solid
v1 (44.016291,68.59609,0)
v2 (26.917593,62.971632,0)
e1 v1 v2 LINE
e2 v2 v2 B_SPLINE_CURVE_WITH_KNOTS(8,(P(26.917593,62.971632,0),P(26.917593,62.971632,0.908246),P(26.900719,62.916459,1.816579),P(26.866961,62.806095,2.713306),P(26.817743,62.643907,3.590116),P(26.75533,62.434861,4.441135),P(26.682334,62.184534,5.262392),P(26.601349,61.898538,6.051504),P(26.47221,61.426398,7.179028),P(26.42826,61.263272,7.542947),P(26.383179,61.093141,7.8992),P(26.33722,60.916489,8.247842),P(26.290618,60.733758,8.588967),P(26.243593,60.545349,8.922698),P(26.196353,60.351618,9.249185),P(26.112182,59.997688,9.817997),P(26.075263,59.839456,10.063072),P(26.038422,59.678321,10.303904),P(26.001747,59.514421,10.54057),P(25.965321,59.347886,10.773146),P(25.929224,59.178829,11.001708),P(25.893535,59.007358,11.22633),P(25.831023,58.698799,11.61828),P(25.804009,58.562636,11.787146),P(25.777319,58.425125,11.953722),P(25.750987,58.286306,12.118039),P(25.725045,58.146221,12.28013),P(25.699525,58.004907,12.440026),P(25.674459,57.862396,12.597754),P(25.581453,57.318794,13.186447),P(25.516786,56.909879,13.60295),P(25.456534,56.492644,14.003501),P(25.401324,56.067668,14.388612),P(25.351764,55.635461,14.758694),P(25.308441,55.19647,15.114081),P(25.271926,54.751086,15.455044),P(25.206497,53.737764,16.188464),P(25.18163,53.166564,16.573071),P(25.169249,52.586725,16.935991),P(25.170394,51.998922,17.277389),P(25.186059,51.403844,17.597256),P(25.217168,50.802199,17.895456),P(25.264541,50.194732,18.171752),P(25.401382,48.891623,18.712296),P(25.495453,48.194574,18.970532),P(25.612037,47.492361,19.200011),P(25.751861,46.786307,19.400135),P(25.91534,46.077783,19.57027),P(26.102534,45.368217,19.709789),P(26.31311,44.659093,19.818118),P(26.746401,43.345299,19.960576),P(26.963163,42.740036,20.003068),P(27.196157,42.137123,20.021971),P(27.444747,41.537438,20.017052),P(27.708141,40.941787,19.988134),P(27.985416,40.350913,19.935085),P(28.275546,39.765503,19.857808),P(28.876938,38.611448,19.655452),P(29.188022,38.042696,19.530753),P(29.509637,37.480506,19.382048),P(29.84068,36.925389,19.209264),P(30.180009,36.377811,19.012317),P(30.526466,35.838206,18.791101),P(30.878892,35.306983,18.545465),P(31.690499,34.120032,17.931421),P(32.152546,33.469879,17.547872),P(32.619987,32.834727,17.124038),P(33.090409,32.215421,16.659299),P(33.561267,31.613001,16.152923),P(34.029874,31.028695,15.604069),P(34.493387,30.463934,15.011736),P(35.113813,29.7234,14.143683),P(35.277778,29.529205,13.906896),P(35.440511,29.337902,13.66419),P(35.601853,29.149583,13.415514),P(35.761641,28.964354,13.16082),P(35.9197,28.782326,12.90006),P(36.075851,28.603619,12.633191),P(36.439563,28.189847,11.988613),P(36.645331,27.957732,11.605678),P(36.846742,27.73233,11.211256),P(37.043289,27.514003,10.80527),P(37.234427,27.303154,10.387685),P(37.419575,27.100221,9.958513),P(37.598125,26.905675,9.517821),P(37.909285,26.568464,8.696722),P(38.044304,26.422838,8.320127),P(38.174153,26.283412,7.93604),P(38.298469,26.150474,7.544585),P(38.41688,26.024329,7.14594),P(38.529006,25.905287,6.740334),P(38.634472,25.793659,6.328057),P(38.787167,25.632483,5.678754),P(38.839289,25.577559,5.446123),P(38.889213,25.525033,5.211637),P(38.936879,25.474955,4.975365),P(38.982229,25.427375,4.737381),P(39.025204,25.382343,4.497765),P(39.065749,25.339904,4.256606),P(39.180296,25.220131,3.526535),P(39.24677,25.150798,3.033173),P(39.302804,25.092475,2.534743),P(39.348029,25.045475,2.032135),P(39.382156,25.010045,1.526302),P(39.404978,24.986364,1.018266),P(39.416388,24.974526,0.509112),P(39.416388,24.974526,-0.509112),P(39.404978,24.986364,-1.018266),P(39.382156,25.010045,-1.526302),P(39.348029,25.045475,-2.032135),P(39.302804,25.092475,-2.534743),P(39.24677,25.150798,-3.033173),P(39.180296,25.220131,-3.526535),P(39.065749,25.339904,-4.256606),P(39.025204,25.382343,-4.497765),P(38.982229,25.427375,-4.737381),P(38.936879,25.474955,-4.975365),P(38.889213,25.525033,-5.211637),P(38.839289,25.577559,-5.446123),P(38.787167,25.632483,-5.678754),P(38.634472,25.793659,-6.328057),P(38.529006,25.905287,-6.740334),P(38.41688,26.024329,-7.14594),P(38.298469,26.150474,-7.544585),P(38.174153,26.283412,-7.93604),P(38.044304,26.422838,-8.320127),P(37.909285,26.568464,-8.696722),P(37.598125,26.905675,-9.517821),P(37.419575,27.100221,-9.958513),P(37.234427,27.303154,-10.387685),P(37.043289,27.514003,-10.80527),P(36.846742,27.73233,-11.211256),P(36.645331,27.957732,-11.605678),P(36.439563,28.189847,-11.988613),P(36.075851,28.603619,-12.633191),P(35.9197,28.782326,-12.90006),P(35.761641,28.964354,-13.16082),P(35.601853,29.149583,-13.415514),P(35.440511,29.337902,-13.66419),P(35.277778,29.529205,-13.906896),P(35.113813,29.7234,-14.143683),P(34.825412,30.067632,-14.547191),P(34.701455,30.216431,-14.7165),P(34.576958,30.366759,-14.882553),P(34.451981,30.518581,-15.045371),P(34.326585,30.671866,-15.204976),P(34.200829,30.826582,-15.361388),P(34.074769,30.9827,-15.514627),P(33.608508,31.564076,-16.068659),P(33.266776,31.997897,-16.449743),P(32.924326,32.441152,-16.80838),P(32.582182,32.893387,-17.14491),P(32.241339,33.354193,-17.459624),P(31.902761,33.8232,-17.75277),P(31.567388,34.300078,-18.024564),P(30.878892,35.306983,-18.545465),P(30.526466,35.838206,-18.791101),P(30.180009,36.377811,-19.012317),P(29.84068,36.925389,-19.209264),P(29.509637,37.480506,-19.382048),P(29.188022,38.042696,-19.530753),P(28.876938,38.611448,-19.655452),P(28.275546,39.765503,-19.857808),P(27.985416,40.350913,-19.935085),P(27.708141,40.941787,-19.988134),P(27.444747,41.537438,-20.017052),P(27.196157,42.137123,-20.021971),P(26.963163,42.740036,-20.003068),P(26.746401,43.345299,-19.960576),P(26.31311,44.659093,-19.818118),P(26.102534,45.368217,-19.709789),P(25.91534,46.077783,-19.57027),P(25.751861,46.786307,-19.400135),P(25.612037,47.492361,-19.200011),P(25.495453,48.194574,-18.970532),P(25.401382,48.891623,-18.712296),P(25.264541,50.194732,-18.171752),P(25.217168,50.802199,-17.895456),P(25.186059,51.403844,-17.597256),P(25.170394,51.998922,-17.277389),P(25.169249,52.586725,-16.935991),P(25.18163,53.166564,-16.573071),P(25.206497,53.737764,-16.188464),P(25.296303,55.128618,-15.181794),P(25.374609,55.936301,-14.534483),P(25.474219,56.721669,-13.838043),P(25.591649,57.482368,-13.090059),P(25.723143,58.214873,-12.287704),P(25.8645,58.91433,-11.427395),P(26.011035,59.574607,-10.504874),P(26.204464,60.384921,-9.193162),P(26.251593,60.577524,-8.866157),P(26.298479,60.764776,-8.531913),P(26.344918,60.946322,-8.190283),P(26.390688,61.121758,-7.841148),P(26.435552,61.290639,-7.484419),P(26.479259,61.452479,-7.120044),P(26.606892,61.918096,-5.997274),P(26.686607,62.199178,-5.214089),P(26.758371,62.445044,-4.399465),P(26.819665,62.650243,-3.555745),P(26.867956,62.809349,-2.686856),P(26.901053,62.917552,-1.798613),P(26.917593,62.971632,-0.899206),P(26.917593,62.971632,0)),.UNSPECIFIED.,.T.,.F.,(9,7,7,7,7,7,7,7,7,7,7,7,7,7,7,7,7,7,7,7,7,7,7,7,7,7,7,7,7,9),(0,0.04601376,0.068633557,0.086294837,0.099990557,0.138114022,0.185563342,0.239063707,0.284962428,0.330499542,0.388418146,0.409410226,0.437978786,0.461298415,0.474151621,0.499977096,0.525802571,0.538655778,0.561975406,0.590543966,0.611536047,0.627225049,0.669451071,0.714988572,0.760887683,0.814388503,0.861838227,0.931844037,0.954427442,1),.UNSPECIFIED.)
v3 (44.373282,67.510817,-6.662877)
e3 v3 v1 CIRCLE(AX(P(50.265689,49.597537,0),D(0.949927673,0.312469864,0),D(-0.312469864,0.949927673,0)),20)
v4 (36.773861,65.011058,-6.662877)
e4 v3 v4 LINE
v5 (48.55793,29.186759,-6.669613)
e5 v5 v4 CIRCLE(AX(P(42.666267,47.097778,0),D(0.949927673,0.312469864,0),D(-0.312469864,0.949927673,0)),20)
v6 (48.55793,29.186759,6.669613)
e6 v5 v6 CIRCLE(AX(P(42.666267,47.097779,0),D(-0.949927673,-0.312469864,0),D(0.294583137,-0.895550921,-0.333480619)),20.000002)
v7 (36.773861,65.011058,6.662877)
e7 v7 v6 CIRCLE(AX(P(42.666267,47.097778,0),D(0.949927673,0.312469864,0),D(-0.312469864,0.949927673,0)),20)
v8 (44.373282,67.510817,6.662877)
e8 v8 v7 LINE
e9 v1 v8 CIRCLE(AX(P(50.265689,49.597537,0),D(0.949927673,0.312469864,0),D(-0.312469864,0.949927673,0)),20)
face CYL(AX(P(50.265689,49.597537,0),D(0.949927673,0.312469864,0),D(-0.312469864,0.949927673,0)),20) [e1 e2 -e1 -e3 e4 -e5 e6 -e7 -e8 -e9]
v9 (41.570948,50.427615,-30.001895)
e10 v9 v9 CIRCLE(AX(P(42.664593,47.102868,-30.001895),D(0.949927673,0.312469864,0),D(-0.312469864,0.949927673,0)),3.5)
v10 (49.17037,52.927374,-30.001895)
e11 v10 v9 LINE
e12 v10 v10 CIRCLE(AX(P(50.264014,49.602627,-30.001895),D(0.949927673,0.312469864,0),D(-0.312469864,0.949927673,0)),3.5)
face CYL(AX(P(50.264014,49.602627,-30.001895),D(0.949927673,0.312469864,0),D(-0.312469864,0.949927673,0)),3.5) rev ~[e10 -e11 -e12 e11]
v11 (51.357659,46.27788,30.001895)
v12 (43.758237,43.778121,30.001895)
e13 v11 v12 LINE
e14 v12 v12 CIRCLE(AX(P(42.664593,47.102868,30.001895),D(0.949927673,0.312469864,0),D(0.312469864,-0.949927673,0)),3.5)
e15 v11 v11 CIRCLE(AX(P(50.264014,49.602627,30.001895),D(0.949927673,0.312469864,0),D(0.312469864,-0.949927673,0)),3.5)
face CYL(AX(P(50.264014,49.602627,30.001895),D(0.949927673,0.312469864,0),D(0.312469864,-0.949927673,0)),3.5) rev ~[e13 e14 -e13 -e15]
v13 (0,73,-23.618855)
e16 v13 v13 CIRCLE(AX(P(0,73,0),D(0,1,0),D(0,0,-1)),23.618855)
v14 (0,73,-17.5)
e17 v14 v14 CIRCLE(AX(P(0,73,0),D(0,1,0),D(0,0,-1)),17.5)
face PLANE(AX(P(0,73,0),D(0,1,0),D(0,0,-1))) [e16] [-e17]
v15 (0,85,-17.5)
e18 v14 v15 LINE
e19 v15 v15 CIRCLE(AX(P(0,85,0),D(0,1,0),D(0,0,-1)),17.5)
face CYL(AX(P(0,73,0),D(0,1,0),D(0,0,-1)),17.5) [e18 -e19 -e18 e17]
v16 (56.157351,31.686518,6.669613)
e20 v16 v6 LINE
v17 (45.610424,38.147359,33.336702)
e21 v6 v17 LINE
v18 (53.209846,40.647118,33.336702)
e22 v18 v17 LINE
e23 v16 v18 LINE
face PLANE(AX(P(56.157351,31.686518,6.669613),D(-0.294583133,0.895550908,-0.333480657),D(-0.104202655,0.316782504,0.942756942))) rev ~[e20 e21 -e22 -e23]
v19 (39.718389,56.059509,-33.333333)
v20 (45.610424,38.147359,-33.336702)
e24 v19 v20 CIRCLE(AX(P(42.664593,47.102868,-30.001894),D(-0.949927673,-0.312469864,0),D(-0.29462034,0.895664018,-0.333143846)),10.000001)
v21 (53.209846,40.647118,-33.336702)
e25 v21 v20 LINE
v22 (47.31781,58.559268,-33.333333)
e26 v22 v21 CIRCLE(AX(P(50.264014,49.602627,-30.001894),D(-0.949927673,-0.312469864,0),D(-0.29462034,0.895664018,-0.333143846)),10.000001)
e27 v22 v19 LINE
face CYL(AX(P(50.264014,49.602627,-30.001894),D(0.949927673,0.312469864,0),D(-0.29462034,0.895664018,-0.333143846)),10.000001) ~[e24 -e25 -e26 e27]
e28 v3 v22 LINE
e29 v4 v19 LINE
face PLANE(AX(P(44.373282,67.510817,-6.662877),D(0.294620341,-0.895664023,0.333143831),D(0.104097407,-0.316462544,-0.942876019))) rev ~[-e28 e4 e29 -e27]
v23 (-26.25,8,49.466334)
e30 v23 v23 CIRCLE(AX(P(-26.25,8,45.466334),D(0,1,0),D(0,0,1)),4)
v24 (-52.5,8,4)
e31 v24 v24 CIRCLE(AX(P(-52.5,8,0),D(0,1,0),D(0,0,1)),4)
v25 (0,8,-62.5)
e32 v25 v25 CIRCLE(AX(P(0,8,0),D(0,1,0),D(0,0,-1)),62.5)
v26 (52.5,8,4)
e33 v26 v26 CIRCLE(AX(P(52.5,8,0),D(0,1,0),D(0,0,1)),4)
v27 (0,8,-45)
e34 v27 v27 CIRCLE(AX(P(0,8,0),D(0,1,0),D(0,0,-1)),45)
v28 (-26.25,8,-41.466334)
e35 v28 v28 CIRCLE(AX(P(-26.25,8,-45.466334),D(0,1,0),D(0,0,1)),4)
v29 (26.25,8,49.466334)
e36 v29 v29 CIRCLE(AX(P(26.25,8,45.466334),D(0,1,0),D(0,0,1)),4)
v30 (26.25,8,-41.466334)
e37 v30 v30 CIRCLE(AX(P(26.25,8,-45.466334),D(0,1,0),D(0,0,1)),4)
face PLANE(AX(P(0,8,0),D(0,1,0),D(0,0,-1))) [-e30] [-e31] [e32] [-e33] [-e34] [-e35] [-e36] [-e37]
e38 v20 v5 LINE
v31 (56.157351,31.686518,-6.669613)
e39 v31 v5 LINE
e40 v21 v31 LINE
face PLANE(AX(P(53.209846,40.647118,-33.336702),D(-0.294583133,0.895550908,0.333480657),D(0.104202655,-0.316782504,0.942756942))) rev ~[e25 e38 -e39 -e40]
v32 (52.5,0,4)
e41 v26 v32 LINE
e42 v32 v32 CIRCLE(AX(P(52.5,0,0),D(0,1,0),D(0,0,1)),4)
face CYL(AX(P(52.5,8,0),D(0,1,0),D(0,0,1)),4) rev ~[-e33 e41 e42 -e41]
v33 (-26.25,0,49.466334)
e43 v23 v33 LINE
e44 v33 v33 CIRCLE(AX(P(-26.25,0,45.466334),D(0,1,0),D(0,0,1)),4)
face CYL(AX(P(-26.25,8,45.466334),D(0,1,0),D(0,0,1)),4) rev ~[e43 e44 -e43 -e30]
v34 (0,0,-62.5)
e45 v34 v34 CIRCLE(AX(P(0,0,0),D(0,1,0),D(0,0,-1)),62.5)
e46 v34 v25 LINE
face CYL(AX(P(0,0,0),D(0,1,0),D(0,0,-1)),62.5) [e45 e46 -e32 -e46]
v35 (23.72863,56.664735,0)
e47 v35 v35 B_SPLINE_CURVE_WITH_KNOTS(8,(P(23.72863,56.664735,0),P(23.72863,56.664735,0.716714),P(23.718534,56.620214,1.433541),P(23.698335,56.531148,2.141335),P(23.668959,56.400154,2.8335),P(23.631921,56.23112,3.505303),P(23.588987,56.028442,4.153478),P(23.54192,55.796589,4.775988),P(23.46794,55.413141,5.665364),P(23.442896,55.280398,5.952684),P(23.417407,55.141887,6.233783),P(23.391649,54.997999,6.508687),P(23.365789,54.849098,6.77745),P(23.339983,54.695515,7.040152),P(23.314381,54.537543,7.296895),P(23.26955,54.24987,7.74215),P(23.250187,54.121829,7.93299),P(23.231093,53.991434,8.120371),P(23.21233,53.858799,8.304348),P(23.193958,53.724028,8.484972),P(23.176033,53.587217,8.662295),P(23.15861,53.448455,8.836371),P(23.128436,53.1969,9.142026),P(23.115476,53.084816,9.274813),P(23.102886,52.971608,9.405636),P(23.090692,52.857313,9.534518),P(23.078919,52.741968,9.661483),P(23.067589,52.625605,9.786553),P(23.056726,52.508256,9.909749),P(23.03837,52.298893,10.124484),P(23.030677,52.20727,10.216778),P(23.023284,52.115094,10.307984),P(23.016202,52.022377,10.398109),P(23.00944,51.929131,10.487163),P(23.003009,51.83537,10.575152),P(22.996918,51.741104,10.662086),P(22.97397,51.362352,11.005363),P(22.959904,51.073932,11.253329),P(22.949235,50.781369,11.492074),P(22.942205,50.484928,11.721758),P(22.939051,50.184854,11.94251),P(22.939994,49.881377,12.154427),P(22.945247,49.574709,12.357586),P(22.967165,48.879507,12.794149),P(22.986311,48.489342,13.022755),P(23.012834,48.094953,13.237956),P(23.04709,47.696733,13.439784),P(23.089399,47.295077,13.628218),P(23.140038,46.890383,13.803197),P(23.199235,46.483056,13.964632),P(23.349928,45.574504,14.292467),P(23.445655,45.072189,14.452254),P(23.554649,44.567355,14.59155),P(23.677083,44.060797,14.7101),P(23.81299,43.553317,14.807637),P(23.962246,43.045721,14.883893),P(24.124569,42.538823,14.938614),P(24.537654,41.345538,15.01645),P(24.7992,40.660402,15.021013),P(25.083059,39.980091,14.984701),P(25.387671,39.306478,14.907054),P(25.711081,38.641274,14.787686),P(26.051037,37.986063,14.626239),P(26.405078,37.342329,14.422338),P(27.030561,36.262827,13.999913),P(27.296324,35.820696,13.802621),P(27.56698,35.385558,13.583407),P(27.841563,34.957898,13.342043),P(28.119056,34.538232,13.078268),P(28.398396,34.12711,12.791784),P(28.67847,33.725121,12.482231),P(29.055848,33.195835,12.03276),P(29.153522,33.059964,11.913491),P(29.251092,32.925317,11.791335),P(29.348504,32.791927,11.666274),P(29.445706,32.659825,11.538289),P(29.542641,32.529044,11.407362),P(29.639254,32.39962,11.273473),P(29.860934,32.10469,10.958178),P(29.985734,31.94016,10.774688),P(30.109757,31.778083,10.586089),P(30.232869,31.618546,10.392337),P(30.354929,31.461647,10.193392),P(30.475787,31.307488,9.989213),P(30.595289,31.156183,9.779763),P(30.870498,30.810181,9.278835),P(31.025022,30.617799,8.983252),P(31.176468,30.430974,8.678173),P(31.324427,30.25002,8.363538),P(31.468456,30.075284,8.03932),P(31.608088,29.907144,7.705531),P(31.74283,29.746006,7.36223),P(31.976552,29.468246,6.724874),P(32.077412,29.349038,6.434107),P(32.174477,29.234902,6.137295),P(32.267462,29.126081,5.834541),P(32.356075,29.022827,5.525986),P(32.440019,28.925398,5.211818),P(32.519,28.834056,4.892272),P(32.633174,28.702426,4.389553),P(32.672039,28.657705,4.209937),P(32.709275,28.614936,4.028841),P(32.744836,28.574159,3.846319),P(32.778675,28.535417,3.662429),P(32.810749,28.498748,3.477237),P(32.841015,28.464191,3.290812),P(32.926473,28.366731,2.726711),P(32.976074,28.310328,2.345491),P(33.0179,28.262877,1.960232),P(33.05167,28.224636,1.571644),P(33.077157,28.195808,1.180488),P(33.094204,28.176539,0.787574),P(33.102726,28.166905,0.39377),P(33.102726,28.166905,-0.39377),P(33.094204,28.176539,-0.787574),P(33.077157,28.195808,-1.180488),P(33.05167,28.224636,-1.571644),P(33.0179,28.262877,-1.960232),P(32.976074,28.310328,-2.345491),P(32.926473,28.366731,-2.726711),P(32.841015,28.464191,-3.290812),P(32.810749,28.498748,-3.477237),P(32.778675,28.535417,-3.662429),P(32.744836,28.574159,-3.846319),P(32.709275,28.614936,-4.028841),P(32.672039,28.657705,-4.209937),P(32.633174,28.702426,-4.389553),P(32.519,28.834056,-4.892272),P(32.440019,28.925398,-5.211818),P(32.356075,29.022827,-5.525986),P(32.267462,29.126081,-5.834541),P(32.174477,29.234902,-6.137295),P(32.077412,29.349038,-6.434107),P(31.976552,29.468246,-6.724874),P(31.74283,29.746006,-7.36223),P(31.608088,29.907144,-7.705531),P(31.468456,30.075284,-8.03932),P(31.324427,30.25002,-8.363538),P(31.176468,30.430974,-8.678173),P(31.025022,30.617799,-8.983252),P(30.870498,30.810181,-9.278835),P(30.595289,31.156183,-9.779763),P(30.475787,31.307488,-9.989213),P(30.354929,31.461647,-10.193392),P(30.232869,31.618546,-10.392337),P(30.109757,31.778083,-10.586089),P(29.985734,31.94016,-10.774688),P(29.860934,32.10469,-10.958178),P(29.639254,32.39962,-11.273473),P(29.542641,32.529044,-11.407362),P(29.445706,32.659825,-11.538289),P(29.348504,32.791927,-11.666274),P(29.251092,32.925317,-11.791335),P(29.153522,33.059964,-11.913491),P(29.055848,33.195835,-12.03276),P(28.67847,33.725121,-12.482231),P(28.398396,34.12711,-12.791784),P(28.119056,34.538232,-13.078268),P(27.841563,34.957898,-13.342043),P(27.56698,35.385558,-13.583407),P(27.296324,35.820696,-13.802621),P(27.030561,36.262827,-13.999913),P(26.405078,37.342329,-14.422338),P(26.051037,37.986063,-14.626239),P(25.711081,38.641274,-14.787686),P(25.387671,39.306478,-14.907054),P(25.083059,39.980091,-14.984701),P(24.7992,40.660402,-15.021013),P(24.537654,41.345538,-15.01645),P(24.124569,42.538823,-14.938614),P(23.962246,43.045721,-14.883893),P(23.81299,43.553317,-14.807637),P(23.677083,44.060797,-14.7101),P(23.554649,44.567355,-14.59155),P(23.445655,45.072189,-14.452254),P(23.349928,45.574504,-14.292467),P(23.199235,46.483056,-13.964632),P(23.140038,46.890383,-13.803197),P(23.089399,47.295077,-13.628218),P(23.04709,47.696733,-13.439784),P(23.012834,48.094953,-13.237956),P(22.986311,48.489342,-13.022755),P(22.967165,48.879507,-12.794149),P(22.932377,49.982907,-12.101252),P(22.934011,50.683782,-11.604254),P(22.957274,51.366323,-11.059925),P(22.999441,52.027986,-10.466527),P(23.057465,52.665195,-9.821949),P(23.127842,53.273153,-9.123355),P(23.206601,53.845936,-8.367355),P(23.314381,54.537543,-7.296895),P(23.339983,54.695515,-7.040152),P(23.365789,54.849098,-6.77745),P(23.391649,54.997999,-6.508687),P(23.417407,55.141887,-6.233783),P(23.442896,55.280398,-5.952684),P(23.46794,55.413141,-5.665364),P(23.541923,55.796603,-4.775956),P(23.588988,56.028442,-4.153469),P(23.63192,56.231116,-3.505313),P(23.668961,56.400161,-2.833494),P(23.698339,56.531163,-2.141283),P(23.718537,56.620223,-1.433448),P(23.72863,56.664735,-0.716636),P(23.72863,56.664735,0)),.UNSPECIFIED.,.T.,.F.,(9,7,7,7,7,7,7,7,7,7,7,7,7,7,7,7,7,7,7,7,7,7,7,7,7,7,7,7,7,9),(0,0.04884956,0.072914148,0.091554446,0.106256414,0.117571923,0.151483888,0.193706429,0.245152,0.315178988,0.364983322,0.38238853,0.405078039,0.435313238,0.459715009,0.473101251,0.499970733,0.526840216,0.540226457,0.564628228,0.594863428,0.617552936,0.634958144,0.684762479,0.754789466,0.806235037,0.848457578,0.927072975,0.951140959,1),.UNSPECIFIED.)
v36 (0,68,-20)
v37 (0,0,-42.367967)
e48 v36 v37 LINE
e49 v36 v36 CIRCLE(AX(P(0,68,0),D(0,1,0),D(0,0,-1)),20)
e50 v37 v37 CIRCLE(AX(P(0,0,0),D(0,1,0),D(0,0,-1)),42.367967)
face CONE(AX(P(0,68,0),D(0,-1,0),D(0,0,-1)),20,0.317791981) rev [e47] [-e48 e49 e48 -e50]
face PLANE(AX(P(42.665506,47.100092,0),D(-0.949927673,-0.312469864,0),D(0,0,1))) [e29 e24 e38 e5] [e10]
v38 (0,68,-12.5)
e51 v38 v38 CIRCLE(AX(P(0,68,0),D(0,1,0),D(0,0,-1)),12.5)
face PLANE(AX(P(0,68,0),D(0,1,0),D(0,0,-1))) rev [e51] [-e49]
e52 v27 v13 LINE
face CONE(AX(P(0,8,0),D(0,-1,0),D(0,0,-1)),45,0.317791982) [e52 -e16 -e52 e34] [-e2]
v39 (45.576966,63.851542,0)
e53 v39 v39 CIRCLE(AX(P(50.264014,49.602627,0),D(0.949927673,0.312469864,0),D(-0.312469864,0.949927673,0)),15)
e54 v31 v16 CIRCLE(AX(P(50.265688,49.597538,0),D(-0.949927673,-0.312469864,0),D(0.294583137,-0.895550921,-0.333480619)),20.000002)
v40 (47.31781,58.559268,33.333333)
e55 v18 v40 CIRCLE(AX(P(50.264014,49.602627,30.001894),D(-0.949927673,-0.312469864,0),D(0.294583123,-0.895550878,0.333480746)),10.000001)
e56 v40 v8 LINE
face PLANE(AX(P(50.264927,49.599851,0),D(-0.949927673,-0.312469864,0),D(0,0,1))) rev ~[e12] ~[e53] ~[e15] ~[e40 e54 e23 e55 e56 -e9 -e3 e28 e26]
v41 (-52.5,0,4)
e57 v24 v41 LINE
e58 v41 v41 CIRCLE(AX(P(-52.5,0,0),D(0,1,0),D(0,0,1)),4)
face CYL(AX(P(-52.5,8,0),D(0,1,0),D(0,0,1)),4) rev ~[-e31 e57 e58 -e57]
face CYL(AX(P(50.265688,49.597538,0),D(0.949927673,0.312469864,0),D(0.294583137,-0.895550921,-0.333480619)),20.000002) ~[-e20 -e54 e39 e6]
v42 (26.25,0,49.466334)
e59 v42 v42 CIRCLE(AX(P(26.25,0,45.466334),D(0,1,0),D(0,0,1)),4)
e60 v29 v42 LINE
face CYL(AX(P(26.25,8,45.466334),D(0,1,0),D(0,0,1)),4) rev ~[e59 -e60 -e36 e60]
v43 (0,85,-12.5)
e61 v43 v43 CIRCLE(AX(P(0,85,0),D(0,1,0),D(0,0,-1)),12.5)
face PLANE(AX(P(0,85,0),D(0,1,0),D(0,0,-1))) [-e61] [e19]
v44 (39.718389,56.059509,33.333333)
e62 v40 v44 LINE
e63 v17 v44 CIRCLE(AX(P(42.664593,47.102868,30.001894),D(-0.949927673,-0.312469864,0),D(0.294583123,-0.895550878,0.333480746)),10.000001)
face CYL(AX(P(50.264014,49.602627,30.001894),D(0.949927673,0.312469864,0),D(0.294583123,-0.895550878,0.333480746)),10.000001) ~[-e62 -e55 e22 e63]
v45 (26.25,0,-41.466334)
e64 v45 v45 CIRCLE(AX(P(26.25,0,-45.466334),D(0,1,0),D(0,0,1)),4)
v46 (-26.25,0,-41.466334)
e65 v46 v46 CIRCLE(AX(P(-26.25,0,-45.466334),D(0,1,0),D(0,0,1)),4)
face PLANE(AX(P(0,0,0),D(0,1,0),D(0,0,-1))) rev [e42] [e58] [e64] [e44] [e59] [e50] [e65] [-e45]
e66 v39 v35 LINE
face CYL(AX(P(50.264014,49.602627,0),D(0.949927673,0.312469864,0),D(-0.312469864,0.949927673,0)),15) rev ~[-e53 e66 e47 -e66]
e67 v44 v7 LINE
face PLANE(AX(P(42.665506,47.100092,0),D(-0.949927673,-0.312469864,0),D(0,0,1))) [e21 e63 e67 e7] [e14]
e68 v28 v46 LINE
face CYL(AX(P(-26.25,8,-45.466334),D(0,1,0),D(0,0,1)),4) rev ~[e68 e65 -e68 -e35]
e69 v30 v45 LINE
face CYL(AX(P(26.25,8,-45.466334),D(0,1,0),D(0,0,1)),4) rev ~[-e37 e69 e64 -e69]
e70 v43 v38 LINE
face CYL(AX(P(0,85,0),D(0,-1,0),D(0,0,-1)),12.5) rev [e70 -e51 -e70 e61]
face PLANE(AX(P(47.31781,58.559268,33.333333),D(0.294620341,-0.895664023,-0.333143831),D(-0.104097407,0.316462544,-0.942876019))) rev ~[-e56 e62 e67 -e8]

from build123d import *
from build123d.topology import SkipClean

# Parameters (mm, degrees)
SKETCH_11_R         = 4
CUT_EXTRUDE_1_DEPTH = 10
EXTRUDE_1_REACH     = 140.176
SKETCH_13_R         = 20
SKETCH_16_R         = 3.5
EXTRUDE_4_DEPTH     = 8
CUT_EXTRUDE_2_REACH = 140.176
SKETCH_17_R         = 15


with BuildPart() as part:
    # 草图1 → 旋转5 (revolve)
    with BuildSketch(Plane.XY, mode=Mode.PRIVATE) as revolve_5_sk:
        Polygon((42.367967, 0), (62.5, 0), (62.5, 8), (45, 8), (23.618855, 73), (17.5, 73), (17.5, 85), (12.5, 85), (12.5, 68), (20, 68), align=None)
    revolve(revolve_5_sk.sketch.rotate(Axis((0, 0, 0), (0, 1, 0)), 90), axis=Axis((0, 0, 0), (0, 1, 0)))

    # 草图11 → 切除-拉伸1 (cut)
    with BuildSketch(Plane(origin=(0, 8, 0), x_dir=(1, 0, 0), z_dir=(0, 1, 0))):
        with Locations(Location((52.5, 0, 0), (0, 0, 270))):
            Circle(SKETCH_11_R)
        with Locations(Location((26.25, -45.466334, 0), (0, 0, 270))):
            Circle(SKETCH_11_R)
        with Locations(Location((-26.25, -45.466334, 0), (0, 0, 270))):
            Circle(SKETCH_11_R)
        with Locations(Location((-52.5, 0, 0), (0, 0, 270))):
            Circle(SKETCH_11_R)
        with Locations(Location((-26.25, 45.466334, 0), (0, 0, 270))):
            Circle(SKETCH_11_R)
        with Locations(Location((26.25, 45.466334, 0), (0, 0, 270))):
            Circle(SKETCH_11_R)
    extrude(amount=-CUT_EXTRUDE_1_DEPTH, mode=Mode.SUBTRACT)

    # 草图13 → 凸台-拉伸1 (add, up to next)
    with BuildSketch(Plane(origin=(50.133302, 50, 0), x_dir=(0, 0, -1), z_dir=(0.9499276731466783, 0.3124698638111166, 0)), mode=Mode.PRIVATE) as extrude_1_sk1:
        with Locations(Location((0, -0.423678, 0), (0, 0, 90))):
            Circle(SKETCH_13_R)
    extrude_1_tool1 = extrude(extrude_1_sk1.sketch, amount=-EXTRUDE_1_REACH, mode=Mode.PRIVATE) - part.part
    add(extrude_1_tool1.solids().sort_by_distance((50.265689, 49.597537, 0))[0])

    # 草图16 → 凸台-拉伸4 (add)
    with SkipClean():  # the faces are left unmerged after this step: merging them gives an invalid solid
        with BuildSketch(Plane(origin=(50.133302, 50, 0), x_dir=(0, 0, -1), z_dir=(0.9499276731466783, 0.3124698638111166, 0))):
            with BuildLine():
                Line((-33.333333, 9.010442), (-6.662877, 18.433842))
                ThreePointArc((-6.662877, 18.433842), (0, 19.576322), (6.662877, 18.433842))
                Line((6.662877, 18.433842), (33.333333, 9.010442))
                ThreePointArc((33.333333, 9.010442), (40.001895, -0.416533), (33.336702, -9.845889))
                Line((33.336702, -9.845889), (6.669613, -19.278817))
                ThreePointArc((6.669613, -19.278817), (0, -20.423678), (-6.669613, -19.278817))
                Line((-6.669613, -19.278817), (-33.336702, -9.845889))
                ThreePointArc((-33.336702, -9.845889), (-40.001895, -0.416533), (-33.333333, 9.010442))
            make_face()
            with Locations(Location((30.001895, -0.418319, 0), (0, 0, 90))):
                Circle(SKETCH_16_R, mode=Mode.SUBTRACT)
            with Locations(Location((-30.001895, -0.418319, 0), (0, 0, 270))):
                Circle(SKETCH_16_R, mode=Mode.SUBTRACT)
        extrude(amount=-EXTRUDE_4_DEPTH)

    # 草图17 → 切除-拉伸2 (cut, up to next)
    with BuildSketch(Plane(origin=(50.133302, 50, 0), x_dir=(0, 0, -1), z_dir=(0.9499276731466783, 0.3124698638111166, 0)), mode=Mode.PRIVATE) as cut_extrude_2_sk1:
        with Locations(Location((0, -0.418319, 0), (0, 0, 90))):
            Circle(SKETCH_17_R)
    cut_extrude_2_tool1 = extrude(cut_extrude_2_sk1.sketch, amount=-CUT_EXTRUDE_2_REACH, mode=Mode.PRIVATE) & part.part
    add(cut_extrude_2_tool1.solids().sort_by_distance((50.264014, 49.602627, 0))[0], mode=Mode.SUBTRACT)


solid = part.part
